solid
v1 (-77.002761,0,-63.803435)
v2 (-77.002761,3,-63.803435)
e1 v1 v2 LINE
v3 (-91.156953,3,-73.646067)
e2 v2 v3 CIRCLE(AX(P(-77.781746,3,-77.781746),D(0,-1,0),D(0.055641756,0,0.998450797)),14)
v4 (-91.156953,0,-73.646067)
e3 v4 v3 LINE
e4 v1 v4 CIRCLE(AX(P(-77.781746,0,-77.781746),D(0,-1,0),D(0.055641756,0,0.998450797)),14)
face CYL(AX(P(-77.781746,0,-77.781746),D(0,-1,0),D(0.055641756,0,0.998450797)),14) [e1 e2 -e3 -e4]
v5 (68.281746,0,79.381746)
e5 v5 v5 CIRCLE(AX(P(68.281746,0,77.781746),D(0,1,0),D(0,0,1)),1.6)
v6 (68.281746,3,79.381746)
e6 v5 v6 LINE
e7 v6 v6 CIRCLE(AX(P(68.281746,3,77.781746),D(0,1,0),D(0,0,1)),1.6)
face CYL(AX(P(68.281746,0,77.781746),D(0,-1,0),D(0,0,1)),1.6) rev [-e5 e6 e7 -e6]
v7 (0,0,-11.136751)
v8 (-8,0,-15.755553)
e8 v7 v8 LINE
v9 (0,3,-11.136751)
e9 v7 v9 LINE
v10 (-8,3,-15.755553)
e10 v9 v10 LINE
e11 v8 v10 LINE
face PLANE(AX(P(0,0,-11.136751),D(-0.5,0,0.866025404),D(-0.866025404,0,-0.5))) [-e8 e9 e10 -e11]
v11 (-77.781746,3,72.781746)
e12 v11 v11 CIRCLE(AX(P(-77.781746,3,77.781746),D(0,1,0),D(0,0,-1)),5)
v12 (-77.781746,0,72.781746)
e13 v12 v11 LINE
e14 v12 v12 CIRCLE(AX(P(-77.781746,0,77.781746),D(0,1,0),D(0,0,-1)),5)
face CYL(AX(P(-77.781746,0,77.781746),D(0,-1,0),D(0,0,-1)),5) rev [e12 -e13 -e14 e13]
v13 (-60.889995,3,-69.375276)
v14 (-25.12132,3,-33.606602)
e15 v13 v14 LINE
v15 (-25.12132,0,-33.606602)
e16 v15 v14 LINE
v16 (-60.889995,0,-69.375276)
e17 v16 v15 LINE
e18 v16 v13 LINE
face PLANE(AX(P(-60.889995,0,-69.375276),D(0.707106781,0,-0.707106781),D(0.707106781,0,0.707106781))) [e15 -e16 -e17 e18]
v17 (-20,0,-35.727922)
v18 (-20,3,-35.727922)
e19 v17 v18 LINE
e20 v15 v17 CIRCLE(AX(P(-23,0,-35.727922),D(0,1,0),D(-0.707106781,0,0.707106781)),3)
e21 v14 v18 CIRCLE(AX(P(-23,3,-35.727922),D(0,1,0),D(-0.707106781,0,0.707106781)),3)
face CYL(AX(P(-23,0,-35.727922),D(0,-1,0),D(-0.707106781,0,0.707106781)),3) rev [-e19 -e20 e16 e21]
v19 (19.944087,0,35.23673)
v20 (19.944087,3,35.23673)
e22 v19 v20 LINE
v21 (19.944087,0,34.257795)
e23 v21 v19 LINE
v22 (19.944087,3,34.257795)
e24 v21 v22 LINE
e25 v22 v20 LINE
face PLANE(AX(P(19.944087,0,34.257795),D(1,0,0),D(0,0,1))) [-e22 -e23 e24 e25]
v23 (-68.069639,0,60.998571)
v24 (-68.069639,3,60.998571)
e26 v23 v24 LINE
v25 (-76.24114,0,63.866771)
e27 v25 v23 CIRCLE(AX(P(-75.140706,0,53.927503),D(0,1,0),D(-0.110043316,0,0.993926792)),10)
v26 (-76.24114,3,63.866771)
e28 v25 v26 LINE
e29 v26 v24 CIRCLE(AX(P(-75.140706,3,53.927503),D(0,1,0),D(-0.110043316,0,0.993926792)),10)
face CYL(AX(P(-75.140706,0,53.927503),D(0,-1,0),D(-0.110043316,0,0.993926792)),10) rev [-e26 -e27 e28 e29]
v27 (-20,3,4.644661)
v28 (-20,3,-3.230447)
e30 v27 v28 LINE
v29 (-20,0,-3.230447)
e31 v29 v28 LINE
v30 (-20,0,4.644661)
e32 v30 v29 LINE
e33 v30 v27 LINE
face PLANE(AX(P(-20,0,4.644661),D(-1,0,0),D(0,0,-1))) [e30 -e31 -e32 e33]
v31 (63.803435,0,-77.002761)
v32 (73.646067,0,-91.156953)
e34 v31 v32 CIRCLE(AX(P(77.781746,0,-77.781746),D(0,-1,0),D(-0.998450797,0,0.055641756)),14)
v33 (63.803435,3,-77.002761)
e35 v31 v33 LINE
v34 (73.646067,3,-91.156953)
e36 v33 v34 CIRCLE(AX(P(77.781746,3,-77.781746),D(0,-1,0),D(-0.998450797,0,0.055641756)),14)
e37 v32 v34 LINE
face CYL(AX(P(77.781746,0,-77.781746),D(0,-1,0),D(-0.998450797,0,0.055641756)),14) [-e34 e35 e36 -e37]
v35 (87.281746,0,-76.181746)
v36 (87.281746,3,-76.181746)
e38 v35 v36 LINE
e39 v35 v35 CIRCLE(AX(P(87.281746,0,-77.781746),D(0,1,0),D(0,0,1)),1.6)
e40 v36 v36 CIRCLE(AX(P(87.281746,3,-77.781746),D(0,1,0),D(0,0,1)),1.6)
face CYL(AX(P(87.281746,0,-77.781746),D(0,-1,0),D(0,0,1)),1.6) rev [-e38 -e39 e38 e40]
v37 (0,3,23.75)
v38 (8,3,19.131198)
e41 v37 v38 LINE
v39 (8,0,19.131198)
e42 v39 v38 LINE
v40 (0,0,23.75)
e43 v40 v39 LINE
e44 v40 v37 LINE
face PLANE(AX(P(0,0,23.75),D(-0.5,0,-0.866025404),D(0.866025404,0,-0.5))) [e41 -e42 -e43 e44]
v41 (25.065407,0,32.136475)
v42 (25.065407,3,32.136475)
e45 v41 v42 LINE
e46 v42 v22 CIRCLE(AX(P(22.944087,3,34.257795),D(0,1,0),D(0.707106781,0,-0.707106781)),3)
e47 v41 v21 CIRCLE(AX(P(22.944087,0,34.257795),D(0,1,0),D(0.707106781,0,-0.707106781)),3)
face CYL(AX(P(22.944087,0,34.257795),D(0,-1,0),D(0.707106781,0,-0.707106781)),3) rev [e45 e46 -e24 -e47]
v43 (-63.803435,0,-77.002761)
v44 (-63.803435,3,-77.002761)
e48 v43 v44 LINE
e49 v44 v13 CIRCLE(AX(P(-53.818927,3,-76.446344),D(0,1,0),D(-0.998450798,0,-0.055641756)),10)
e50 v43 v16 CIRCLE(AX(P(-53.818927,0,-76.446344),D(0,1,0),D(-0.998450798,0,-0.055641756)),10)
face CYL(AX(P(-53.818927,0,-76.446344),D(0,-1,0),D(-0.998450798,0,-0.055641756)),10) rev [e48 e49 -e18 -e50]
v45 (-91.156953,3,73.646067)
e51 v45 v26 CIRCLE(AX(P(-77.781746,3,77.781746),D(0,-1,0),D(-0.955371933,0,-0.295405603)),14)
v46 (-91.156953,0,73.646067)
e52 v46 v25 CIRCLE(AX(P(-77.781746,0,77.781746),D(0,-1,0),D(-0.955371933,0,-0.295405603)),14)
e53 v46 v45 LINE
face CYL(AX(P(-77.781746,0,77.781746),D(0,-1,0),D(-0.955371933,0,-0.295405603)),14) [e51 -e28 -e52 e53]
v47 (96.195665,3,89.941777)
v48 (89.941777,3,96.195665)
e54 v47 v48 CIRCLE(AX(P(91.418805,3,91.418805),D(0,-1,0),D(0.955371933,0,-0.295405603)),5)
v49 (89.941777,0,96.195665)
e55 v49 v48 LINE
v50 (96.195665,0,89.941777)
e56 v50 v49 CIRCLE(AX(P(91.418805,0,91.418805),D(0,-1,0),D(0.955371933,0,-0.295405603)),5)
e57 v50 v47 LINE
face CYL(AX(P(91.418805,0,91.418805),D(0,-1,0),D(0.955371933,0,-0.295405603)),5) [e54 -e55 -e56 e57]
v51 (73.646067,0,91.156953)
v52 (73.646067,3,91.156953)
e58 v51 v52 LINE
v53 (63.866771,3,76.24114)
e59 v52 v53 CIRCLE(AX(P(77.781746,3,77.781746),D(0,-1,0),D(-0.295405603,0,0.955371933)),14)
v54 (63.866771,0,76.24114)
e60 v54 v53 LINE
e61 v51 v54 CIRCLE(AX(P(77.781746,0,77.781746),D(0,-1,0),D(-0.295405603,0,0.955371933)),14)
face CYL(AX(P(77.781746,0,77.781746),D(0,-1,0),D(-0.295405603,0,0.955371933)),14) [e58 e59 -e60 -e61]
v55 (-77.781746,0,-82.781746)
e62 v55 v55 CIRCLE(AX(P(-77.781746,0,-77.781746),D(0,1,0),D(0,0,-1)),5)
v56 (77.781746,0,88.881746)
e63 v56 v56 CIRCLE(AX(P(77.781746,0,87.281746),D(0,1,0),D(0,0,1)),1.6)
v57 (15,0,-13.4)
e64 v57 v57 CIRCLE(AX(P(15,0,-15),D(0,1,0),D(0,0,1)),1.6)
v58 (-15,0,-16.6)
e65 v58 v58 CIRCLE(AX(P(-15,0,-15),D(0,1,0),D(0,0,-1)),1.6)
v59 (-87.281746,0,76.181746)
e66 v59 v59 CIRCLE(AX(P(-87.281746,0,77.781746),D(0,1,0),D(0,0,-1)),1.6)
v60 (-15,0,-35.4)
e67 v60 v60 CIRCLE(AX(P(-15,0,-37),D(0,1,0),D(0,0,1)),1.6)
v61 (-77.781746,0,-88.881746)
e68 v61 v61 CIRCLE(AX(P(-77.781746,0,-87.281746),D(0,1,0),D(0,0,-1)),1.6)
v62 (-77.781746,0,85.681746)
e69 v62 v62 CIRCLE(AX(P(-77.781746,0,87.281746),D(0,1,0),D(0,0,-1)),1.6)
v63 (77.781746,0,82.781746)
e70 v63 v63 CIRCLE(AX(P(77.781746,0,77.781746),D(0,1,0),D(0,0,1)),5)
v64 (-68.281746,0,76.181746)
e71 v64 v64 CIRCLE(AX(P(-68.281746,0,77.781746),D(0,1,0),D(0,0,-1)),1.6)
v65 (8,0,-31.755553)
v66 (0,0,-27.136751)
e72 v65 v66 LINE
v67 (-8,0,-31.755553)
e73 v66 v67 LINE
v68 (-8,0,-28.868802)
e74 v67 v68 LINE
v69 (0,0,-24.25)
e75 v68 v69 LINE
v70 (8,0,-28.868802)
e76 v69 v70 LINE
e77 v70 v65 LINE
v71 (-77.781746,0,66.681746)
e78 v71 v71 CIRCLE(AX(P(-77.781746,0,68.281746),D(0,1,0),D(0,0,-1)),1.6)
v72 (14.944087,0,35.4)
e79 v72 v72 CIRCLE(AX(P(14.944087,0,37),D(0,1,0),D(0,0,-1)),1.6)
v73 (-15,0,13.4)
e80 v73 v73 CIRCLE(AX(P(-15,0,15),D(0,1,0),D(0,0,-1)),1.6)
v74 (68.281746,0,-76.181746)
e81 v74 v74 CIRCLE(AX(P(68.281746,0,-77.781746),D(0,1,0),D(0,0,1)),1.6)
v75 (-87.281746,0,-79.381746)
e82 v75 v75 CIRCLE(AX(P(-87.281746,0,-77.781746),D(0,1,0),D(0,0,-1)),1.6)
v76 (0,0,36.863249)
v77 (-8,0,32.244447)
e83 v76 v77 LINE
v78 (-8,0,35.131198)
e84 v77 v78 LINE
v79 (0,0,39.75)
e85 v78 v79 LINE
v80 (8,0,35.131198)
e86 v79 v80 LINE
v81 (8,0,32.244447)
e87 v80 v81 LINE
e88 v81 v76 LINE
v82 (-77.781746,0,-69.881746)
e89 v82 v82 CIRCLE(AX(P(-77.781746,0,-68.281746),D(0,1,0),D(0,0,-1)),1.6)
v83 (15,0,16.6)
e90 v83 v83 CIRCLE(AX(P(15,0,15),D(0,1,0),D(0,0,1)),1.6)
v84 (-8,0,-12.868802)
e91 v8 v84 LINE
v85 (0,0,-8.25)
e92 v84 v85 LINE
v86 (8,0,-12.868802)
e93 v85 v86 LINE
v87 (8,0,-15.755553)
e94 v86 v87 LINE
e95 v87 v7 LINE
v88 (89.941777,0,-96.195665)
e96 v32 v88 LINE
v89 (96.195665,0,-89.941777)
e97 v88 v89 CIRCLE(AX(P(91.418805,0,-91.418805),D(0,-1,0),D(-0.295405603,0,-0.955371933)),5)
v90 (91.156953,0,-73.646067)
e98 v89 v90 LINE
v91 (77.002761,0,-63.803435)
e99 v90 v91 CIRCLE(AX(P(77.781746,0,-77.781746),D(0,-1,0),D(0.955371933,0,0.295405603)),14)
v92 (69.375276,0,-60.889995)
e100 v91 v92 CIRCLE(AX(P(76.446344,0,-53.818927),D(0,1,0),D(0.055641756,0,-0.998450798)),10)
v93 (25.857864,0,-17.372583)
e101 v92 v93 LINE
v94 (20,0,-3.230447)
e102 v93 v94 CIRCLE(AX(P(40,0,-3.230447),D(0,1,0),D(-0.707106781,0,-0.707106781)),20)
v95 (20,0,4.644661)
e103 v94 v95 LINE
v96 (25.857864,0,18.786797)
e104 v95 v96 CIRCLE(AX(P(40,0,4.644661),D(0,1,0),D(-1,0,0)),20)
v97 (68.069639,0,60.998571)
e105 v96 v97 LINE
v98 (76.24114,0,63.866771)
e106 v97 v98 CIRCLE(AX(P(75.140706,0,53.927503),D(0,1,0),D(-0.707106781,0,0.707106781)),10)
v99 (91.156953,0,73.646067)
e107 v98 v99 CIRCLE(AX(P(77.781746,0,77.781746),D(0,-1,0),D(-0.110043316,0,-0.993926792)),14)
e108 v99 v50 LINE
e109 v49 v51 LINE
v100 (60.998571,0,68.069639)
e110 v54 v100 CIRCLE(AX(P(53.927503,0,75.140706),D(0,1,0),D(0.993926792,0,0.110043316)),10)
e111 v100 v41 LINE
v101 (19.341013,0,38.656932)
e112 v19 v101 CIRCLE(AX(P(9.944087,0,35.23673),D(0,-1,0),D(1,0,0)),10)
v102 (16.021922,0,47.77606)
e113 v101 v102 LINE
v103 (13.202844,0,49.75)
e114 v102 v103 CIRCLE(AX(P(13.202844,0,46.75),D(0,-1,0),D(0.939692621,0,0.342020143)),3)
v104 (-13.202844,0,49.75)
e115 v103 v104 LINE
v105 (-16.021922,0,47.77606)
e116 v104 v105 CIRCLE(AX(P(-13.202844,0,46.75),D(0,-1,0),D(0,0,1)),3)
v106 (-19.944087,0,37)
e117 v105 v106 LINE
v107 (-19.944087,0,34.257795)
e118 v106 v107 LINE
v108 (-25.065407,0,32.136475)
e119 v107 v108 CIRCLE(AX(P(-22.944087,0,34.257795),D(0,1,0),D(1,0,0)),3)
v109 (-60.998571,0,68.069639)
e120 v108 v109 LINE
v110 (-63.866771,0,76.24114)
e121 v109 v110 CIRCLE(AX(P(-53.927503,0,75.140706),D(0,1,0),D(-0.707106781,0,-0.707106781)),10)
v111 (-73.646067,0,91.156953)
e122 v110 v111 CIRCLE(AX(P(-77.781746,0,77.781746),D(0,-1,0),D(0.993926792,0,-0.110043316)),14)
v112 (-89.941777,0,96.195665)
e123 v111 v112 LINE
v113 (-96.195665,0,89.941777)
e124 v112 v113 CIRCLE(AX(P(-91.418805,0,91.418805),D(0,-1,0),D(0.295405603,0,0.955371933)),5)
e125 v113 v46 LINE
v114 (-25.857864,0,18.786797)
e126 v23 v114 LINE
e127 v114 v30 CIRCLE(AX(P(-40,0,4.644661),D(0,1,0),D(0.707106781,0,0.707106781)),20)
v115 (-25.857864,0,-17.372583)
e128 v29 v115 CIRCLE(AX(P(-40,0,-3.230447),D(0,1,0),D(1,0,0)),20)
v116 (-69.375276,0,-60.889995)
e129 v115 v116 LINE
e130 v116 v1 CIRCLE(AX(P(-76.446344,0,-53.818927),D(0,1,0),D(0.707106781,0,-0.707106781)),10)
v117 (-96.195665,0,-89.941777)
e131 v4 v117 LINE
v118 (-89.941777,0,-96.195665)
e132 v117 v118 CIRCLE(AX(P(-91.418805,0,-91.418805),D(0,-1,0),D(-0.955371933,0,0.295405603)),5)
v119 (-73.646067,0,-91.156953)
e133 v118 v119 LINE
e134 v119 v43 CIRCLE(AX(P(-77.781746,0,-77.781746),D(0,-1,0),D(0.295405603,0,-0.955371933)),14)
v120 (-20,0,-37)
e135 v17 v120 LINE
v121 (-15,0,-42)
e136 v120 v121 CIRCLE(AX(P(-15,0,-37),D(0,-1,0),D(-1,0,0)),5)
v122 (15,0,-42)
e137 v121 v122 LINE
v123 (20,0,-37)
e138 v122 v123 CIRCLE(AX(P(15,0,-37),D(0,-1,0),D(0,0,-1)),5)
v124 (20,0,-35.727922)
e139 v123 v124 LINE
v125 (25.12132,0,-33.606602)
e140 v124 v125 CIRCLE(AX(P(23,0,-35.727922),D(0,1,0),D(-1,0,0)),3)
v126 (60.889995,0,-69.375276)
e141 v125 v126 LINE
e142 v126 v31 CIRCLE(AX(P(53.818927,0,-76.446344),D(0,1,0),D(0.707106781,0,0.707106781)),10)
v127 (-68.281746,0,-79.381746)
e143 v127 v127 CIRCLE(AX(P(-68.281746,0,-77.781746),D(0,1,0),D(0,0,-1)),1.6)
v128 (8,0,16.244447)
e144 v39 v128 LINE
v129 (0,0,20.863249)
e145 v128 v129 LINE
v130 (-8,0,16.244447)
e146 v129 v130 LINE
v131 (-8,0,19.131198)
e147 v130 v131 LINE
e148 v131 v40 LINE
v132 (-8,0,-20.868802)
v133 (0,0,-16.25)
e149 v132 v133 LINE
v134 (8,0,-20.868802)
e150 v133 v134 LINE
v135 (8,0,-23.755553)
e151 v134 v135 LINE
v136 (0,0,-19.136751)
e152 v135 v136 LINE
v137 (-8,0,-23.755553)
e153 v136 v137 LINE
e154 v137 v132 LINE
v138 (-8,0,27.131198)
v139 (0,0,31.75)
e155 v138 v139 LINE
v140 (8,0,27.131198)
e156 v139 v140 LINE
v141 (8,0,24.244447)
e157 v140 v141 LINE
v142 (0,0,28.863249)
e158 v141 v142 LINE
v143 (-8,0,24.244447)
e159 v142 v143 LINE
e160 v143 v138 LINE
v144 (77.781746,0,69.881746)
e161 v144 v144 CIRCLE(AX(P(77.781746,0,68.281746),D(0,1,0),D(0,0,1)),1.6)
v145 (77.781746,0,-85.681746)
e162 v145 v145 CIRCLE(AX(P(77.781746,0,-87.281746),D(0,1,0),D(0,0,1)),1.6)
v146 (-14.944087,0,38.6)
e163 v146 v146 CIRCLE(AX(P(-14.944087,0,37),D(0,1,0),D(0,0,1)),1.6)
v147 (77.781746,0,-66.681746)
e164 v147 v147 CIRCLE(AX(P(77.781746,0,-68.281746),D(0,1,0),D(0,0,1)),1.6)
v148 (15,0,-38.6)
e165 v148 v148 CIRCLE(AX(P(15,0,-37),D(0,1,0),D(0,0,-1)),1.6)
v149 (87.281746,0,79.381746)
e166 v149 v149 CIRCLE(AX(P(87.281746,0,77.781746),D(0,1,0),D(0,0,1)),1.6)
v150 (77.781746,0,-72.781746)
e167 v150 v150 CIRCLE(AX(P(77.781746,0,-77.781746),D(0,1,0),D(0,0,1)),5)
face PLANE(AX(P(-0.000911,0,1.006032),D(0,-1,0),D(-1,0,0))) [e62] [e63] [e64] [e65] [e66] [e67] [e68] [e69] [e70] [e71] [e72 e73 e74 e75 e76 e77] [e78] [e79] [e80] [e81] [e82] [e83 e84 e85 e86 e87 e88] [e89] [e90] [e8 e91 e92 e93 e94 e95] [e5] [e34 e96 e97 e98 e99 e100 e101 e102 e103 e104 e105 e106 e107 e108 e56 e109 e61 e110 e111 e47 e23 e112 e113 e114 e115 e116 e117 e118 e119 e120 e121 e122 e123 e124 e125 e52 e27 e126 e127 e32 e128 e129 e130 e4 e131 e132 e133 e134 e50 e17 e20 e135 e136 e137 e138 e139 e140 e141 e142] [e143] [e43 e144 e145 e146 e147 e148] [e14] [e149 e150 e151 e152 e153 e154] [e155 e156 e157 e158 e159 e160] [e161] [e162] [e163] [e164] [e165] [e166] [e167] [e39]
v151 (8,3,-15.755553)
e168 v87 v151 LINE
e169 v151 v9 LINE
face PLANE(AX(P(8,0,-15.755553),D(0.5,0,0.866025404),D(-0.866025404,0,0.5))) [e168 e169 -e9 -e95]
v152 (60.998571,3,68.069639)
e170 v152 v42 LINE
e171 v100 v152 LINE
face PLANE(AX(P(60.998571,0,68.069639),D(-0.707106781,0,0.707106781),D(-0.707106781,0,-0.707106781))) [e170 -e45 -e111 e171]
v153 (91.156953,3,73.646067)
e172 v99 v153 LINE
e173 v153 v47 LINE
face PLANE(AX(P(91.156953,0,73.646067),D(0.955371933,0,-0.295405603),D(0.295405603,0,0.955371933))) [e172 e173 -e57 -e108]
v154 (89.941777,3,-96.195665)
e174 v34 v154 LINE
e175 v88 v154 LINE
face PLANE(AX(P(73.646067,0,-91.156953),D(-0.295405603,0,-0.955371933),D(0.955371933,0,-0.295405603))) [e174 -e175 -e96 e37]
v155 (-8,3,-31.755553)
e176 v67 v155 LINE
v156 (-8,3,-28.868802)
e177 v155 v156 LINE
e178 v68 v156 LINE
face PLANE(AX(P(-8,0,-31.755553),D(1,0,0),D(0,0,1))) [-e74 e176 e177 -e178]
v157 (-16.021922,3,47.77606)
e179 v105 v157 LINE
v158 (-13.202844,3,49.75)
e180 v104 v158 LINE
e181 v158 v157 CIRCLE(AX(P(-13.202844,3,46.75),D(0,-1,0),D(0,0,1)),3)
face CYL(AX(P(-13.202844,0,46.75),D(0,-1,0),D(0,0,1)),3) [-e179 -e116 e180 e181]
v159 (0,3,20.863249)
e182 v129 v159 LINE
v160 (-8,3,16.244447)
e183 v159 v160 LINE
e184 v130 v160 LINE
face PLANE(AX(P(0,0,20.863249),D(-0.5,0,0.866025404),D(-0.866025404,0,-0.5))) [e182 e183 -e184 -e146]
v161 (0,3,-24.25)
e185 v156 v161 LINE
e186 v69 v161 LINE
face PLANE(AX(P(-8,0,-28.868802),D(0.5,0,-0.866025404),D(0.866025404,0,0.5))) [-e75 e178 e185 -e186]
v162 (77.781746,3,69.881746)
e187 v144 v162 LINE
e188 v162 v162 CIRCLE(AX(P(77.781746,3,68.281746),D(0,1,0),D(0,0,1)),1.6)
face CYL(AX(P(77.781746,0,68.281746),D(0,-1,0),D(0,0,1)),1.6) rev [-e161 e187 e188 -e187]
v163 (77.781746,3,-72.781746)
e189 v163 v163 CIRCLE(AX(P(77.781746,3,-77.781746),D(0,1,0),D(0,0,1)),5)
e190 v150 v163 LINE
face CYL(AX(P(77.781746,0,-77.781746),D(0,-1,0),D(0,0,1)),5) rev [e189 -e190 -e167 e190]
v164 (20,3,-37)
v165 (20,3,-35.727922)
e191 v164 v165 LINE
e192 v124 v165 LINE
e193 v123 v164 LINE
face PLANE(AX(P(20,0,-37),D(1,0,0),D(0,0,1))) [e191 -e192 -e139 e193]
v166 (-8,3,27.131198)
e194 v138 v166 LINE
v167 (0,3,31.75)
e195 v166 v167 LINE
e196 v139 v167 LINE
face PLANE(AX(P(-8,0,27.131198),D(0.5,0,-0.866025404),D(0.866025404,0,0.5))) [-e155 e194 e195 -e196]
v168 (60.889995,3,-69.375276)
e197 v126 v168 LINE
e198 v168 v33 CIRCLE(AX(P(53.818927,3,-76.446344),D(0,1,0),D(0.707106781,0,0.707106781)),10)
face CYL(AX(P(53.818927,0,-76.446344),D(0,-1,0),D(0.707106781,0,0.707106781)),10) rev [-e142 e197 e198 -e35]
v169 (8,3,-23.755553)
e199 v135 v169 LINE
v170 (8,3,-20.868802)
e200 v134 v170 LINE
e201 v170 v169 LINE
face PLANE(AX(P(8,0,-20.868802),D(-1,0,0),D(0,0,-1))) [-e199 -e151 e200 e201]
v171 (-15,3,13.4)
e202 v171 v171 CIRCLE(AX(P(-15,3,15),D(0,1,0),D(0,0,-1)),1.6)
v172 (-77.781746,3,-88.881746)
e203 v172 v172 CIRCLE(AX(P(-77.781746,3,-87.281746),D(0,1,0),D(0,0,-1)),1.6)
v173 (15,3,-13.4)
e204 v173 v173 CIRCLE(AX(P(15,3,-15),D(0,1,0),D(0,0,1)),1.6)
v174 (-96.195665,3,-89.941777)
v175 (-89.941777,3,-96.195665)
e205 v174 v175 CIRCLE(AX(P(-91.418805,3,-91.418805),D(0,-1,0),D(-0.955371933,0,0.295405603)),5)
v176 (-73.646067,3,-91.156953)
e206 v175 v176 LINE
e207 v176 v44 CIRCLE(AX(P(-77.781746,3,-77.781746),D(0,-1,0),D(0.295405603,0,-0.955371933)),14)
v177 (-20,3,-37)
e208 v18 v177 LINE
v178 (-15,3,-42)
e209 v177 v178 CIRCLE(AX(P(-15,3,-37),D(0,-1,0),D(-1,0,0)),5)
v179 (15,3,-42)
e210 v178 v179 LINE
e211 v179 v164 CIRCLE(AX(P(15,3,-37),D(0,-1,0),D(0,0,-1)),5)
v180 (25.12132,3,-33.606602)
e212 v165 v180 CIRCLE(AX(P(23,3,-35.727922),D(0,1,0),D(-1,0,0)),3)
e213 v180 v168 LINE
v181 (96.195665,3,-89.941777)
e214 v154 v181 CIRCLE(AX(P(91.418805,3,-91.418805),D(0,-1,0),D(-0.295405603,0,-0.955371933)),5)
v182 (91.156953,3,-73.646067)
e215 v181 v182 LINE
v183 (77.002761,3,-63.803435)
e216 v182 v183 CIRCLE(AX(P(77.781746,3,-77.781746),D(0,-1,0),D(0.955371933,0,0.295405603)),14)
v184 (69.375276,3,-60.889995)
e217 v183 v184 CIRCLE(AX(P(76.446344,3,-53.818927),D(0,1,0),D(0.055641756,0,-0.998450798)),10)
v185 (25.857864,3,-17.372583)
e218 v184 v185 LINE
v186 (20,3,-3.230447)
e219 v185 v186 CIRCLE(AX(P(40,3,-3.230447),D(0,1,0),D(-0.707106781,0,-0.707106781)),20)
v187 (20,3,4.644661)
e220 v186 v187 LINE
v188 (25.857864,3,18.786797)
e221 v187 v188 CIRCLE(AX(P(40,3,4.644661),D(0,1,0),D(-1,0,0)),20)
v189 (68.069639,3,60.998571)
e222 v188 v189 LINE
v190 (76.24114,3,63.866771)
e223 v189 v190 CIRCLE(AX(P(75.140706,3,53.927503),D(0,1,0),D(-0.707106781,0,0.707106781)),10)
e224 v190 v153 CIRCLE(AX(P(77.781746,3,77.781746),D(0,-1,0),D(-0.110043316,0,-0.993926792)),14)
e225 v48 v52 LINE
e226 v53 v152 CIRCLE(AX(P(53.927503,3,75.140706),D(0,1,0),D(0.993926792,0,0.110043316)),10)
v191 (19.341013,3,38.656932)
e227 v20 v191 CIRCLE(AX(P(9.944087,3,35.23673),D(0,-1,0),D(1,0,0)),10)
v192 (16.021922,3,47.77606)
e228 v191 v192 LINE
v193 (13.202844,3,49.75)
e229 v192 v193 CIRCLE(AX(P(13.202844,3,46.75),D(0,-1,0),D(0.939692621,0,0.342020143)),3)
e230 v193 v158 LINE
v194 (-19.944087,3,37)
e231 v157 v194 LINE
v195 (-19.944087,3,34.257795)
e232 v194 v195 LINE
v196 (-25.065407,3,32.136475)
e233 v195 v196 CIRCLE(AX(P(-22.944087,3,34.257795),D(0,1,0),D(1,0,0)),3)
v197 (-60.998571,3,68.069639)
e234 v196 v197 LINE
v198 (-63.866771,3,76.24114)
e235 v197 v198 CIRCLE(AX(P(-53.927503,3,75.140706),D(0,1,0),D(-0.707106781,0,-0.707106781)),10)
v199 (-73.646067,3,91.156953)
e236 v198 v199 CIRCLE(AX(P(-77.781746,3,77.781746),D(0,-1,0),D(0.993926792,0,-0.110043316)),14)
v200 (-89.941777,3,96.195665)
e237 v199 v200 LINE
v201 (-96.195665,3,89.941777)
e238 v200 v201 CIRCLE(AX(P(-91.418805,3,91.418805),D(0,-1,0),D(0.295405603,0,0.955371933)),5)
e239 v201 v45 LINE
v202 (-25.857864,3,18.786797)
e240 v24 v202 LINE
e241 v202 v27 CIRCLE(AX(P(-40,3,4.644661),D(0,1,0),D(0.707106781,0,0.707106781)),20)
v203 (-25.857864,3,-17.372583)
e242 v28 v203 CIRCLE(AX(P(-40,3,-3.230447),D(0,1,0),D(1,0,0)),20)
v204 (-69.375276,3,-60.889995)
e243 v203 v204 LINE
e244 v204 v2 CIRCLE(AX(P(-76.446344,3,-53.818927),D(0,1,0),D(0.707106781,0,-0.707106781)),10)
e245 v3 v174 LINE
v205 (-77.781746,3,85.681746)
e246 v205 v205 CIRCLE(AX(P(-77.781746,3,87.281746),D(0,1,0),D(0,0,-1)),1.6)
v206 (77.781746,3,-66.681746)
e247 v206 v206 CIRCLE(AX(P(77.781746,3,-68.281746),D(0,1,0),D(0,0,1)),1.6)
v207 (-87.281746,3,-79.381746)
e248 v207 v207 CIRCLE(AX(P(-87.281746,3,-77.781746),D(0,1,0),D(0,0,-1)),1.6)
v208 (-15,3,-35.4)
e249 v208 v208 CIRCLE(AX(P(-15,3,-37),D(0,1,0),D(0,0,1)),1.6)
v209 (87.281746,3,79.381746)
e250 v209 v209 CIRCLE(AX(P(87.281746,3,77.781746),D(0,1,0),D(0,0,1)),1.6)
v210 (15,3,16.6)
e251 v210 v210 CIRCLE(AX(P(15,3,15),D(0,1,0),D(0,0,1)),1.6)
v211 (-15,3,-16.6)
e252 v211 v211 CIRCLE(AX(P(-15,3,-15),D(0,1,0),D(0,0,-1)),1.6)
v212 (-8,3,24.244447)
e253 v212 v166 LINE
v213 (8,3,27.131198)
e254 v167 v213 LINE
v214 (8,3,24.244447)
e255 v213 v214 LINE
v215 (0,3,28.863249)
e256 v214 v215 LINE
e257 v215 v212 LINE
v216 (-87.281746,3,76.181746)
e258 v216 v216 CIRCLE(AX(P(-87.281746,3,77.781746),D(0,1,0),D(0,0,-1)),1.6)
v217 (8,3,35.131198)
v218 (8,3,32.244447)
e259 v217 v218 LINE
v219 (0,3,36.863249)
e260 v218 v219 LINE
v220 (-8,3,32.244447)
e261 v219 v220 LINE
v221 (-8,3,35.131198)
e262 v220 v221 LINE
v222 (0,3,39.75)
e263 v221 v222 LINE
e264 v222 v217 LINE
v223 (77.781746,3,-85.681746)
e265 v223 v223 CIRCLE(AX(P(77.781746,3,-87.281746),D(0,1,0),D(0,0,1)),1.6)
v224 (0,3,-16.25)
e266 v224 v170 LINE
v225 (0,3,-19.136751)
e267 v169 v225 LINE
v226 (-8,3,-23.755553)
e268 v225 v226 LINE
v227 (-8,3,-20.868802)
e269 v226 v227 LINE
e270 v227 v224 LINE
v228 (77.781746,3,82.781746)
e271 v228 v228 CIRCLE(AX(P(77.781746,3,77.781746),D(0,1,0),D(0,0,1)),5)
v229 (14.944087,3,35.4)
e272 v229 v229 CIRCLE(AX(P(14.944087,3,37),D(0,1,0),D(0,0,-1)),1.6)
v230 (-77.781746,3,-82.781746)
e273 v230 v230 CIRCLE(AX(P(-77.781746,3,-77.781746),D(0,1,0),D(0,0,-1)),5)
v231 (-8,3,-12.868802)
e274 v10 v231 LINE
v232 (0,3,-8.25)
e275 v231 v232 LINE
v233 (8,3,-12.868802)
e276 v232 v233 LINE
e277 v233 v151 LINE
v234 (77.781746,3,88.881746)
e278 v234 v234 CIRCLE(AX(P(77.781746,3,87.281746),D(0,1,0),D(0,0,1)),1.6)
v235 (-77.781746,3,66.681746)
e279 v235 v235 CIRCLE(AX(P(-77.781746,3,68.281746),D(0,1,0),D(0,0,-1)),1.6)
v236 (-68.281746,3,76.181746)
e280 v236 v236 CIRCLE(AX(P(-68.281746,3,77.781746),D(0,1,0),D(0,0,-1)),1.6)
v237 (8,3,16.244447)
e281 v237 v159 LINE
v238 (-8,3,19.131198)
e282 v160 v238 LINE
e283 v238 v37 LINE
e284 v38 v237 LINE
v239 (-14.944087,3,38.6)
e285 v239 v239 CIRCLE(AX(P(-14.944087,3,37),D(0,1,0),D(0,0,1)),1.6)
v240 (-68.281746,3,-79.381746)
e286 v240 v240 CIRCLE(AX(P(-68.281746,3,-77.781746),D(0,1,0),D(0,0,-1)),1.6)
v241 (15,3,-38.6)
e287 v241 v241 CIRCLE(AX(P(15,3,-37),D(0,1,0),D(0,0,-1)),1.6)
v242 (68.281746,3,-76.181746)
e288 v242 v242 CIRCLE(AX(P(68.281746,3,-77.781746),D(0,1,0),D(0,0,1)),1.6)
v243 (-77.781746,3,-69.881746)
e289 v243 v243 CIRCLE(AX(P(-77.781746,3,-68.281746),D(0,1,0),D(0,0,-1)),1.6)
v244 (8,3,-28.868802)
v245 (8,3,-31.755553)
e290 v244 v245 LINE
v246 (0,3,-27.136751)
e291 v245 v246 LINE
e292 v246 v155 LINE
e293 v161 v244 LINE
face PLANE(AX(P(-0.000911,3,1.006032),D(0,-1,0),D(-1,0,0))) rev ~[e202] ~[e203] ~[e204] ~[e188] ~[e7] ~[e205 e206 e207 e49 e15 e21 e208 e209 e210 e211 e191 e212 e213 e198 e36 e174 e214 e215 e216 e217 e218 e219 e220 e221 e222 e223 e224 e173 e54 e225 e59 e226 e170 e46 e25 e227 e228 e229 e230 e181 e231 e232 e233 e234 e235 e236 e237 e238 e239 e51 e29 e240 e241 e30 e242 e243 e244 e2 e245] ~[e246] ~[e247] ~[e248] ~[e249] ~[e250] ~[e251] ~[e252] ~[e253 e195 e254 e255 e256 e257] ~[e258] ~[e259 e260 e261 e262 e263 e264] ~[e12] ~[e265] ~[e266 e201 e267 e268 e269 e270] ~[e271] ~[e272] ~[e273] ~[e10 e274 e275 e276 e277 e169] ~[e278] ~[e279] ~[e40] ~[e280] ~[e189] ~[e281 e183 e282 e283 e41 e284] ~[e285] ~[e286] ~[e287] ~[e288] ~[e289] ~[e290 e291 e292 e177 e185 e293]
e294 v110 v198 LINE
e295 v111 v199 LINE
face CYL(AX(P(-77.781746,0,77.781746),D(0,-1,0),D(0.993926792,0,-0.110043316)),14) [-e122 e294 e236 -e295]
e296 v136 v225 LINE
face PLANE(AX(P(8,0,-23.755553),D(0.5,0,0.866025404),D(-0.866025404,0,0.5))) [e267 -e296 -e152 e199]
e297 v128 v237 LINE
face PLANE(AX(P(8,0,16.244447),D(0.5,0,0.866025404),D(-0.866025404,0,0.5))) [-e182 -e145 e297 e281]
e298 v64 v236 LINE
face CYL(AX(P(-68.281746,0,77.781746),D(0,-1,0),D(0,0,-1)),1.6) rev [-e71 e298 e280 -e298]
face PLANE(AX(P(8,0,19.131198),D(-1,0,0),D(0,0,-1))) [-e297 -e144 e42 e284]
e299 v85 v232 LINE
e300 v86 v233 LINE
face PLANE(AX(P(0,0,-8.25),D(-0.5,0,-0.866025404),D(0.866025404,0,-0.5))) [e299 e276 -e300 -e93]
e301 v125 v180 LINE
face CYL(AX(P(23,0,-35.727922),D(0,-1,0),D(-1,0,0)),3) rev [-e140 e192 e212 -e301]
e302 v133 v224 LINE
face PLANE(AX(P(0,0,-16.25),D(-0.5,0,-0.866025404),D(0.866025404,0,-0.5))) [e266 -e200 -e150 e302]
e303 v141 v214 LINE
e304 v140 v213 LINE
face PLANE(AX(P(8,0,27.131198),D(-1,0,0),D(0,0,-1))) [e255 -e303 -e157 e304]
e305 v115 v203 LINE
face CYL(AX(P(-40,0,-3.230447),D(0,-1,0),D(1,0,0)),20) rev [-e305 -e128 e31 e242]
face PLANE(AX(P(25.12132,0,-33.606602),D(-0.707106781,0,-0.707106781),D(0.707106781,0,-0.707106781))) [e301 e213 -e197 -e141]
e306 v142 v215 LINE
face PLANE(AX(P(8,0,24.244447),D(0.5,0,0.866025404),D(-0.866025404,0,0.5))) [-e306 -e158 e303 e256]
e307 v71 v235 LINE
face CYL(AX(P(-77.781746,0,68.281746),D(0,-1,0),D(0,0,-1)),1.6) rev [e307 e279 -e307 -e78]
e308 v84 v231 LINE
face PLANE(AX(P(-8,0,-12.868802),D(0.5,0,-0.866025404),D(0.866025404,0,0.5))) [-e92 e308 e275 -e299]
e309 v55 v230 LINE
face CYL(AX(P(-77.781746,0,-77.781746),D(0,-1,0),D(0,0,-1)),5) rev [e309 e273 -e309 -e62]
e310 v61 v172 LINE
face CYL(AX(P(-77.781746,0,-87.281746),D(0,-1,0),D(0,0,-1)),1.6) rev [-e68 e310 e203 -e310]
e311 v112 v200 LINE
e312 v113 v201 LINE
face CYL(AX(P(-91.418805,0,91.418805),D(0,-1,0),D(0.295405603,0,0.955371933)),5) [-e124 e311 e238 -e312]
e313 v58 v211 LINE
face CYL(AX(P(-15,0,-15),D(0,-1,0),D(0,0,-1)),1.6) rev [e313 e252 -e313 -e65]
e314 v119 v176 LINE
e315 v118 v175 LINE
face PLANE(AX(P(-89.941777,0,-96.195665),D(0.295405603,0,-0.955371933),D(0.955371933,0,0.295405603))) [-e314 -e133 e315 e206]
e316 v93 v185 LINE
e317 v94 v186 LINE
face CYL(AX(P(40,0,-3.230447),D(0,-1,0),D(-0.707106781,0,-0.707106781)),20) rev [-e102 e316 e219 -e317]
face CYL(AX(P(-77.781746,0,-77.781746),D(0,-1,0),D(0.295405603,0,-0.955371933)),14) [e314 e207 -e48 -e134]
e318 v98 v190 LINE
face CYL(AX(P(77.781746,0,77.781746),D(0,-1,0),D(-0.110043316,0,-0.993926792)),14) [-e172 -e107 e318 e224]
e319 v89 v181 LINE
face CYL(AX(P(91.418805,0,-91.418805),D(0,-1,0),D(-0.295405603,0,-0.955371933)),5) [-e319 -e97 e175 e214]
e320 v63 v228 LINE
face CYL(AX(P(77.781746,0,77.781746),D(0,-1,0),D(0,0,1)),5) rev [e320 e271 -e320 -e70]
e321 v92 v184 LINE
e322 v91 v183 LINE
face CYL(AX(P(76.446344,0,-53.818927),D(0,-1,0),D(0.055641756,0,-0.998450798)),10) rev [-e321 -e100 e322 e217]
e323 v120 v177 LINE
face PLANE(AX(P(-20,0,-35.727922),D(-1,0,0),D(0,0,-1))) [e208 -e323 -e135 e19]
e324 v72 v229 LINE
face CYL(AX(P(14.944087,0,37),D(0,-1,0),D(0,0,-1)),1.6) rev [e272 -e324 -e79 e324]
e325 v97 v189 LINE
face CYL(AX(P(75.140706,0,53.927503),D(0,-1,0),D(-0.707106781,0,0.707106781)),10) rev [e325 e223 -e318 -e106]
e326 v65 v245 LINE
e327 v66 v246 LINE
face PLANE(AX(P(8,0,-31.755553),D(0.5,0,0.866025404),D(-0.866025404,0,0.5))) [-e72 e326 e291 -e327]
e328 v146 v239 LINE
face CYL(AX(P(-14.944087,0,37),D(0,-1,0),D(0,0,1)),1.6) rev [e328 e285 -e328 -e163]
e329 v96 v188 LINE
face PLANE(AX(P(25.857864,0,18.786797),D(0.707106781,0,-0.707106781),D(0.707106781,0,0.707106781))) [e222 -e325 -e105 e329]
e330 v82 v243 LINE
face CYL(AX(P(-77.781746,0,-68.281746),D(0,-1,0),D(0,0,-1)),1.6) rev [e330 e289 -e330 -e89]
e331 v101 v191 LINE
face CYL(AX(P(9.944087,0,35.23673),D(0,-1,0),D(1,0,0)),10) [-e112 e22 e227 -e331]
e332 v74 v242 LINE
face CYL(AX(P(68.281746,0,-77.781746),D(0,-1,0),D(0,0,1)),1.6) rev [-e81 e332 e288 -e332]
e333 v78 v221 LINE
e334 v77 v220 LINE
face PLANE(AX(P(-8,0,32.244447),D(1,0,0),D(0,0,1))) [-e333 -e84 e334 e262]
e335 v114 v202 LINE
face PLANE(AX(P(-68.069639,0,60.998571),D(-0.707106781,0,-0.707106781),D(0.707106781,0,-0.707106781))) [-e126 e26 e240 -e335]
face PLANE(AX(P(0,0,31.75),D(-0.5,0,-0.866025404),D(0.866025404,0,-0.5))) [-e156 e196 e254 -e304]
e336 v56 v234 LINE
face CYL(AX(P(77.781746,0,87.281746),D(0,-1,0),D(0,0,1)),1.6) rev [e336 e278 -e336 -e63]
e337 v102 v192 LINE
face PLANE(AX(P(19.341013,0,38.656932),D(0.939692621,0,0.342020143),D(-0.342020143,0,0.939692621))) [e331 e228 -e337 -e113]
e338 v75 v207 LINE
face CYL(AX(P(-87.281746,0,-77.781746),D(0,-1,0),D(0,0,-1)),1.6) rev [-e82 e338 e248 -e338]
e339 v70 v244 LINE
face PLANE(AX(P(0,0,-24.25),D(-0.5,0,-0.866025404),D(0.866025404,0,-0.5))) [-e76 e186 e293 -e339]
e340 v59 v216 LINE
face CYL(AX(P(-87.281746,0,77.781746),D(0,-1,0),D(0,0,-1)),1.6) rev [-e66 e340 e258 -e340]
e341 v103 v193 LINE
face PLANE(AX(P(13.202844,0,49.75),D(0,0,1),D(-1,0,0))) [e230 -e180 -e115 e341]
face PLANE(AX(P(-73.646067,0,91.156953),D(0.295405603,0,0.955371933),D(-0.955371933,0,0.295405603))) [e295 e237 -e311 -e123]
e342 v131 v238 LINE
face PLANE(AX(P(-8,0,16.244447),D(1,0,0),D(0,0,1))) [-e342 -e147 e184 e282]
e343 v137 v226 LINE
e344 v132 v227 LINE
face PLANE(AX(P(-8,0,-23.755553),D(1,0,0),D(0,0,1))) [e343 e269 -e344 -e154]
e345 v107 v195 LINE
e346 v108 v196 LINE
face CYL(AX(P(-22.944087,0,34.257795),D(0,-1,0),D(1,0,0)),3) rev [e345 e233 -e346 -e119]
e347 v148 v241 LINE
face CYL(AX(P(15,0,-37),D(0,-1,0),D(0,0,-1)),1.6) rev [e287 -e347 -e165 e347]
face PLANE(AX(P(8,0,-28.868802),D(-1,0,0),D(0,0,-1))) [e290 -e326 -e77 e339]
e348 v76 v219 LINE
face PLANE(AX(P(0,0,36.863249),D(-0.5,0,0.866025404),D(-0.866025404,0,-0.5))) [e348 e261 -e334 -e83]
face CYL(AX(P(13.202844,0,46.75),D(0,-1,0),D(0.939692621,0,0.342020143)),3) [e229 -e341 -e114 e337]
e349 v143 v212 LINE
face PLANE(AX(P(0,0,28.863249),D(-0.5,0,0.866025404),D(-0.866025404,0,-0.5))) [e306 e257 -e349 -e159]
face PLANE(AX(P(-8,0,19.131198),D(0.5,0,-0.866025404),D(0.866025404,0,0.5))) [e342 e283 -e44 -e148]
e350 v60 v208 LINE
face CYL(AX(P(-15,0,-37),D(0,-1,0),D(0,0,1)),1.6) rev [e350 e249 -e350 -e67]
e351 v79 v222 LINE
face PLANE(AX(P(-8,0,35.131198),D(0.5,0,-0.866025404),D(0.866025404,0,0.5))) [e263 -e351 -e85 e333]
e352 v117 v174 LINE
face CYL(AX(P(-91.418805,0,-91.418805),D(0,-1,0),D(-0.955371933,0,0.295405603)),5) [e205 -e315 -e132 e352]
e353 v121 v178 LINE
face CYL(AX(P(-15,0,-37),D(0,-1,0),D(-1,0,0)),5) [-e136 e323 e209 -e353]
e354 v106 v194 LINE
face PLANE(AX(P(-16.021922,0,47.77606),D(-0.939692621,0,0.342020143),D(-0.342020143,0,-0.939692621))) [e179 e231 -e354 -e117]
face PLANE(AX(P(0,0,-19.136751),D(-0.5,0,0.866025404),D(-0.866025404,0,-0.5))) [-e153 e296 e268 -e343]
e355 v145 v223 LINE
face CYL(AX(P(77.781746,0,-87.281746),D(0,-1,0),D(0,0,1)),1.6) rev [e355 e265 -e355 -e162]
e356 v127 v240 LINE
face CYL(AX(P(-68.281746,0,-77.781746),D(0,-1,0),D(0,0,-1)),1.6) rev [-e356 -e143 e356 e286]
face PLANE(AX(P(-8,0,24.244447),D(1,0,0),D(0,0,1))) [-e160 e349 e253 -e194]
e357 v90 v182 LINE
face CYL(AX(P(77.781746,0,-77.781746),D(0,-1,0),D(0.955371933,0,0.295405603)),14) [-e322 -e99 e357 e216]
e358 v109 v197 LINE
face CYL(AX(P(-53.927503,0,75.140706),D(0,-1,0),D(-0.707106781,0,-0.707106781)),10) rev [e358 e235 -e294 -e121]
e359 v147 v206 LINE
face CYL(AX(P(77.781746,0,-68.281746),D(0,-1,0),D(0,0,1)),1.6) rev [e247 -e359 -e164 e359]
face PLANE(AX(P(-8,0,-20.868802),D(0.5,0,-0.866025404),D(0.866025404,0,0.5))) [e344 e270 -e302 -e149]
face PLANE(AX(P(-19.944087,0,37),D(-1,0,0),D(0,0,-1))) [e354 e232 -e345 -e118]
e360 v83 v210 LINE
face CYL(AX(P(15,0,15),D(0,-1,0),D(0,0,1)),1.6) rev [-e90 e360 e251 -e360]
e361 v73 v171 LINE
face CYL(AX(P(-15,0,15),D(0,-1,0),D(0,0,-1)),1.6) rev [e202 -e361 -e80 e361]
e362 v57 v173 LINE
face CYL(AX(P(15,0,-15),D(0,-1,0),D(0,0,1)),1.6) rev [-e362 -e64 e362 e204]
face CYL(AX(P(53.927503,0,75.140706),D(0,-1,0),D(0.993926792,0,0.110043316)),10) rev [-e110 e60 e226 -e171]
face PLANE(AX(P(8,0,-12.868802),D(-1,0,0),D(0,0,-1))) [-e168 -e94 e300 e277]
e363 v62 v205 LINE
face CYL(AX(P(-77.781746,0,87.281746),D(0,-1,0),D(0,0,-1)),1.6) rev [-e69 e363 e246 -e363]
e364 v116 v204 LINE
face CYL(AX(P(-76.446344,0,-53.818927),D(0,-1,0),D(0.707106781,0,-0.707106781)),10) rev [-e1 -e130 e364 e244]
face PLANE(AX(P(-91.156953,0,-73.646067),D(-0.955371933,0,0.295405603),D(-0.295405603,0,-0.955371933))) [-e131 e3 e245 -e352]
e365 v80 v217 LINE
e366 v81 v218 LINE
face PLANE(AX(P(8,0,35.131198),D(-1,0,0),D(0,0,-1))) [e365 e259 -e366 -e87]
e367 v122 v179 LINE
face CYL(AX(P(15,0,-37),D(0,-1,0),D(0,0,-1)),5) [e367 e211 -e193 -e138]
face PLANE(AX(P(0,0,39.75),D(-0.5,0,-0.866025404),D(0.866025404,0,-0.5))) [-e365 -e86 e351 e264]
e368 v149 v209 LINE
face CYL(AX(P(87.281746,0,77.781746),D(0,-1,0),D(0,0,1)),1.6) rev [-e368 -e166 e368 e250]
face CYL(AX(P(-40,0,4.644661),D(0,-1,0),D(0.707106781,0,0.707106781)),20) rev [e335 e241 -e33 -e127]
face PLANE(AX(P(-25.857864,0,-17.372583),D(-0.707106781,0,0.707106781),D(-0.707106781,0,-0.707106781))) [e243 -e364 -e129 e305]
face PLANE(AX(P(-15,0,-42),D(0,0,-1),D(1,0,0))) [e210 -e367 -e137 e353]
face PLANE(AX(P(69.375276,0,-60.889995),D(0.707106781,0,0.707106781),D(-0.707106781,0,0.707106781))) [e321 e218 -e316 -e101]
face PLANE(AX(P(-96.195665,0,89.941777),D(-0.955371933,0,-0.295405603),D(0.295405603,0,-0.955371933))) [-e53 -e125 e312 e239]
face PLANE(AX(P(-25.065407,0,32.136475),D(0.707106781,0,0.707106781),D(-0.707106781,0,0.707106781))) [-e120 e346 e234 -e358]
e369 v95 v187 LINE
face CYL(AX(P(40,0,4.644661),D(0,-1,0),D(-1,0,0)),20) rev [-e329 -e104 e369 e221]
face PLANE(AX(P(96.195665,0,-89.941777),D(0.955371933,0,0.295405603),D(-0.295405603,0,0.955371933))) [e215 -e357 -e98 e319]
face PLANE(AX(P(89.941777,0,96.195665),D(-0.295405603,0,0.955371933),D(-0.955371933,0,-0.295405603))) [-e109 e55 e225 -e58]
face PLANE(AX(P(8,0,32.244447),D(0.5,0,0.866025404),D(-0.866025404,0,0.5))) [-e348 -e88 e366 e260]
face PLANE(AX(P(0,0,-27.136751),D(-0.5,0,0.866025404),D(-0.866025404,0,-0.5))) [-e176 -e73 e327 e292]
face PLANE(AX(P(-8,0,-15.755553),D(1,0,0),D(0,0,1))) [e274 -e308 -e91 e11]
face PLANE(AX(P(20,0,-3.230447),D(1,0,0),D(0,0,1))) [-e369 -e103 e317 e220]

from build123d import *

# Parameters (mm, degrees)
SKETCH1_R           = 1.6
SKETCH1_R_2         = 5
BOSS_EXTRUDE1_DEPTH = 3
CUT_EXTRUDE1_DEPTH  = 137.389779764


with BuildPart() as part:
    # Sketch1 → Boss-Extrude1 (new body)
    with BuildSketch(Plane(origin=(0, 0, 0), x_dir=(1, 0, 0), z_dir=(0, 1, 0))):
        with BuildLine():
            Line((19.341013177, -38.656931626), (16.02192173, -47.77606043))
            ThreePointArc((16.02192173, -47.77606043), (14.923573177, -49.207456133), (13.202843868, -49.75))
            Line((13.202843868, -49.75), (-13.202843868, -49.75))
            ThreePointArc((-13.202843868, -49.75), (-14.923573177, -49.207456133), (-16.02192173, -47.77606043))
            Line((-16.02192173, -47.77606043), (-19.944086969, -37))
            Line((-19.944086969, -37), (-19.944086969, -34.257795468))
            ThreePointArc((-19.944086969, -34.257795468), (-21.796036672, -31.486156871), (-25.065407313, -32.136475125))
            Line((-25.065407313, -32.136475125), (-60.998570725, -68.069638537))
            ThreePointArc((-60.998570725, -68.069638537), (-63.363139484, -71.828794135), (-63.866770837, -76.241139508))
            ThreePointArc((-63.866770837, -76.241139508), (-66.073761636, -85.457884527), (-73.646067483, -91.156952986))
            Line((-73.646067483, -91.156952986), (-89.941777265, -96.195664945))
            ThreePointArc((-89.941777265, -96.195664945), (-94.954339188, -94.954339188), (-96.195664945, -89.941777265))
            Line((-96.195664945, -89.941777265), (-91.156952986, -73.646067483))
            ThreePointArc((-91.156952986, -73.646067483), (-85.457884527, -66.073761636), (-76.241139508, -63.866770837))
            ThreePointArc((-76.241139508, -63.866770837), (-71.828794135, -63.363139484), (-68.069638537, -60.998570725))
            Line((-68.069638537, -60.998570725), (-25.857864376, -18.786796564))
            ThreePointArc((-25.857864376, -18.786796564), (-21.52240935, -12.298329588), (-20, -4.644660941))
            Line((-20, -4.644660941), (-20, 3.230447378))
            ThreePointArc((-20, 3.230447378), (-21.52240935, 10.884116026), (-25.857864376, 17.372583002))
            Line((-25.857864376, 17.372583002), (-69.375275977, 60.889994603))
            ThreePointArc((-69.375275977, 60.889994603), (-72.878122891, 63.16065038), (-77.002761348, 63.803434766))
            ThreePointArc((-77.002761348, 63.803434766), (-85.774590221, 66.287641348), (-91.156952986, 73.646067483))
            Line((-91.156952986, 73.646067483), (-96.195664945, 89.941777265))
            ThreePointArc((-96.195664945, 89.941777265), (-94.954339188, 94.954339188), (-89.941777265, 96.195664945))
            Line((-89.941777265, 96.195664945), (-73.646067483, 91.156952986))
            ThreePointArc((-73.646067483, 91.156952986), (-66.287641348, 85.774590221), (-63.803434766, 77.002761348))
            ThreePointArc((-63.803434766, 77.002761348), (-63.16065038, 72.878122891), (-60.889994603, 69.375275977))
            Line((-60.889994603, 69.375275977), (-25.121320344, 33.606601718))
            ThreePointArc((-25.121320344, 33.606601718), (-21.851949703, 32.956283464), (-20, 35.727922061))
            Line((-20, 35.727922061), (-20, 37))
            ThreePointArc((-20, 37), (-18.535533906, 40.535533906), (-15, 42))
            Line((-15, 42), (15, 42))
            ThreePointArc((15, 42), (18.535533906, 40.535533906), (20, 37))
            Line((20, 37), (20, 35.727922061))
            ThreePointArc((20, 35.727922061), (21.851949703, 32.956283464), (25.121320344, 33.606601718))
            Line((25.121320344, 33.606601718), (60.889994603, 69.375275977))
            ThreePointArc((60.889994603, 69.375275977), (63.16065038, 72.878122891), (63.803434766, 77.002761348))
            ThreePointArc((63.803434766, 77.002761348), (66.287641348, 85.774590221), (73.646067483, 91.156952986))
            Line((73.646067483, 91.156952986), (89.941777265, 96.195664945))
            ThreePointArc((89.941777265, 96.195664945), (94.954339188, 94.954339188), (96.195664945, 89.941777265))
            Line((96.195664945, 89.941777265), (91.156952986, 73.646067483))
            ThreePointArc((91.156952986, 73.646067483), (85.774590221, 66.287641348), (77.002761348, 63.803434766))
            ThreePointArc((77.002761348, 63.803434766), (72.878122891, 63.16065038), (69.375275977, 60.889994603))
            Line((69.375275977, 60.889994603), (25.857864376, 17.372583002))
            ThreePointArc((25.857864376, 17.372583002), (21.52240935, 10.884116026), (20, 3.230447378))
            Line((20, 3.230447378), (20, -4.644660941))
            ThreePointArc((20, -4.644660941), (21.52240935, -12.298329588), (25.857864376, -18.786796564))
            Line((25.857864376, -18.786796564), (68.069638537, -60.998570725))
            ThreePointArc((68.069638537, -60.998570725), (71.828794135, -63.363139484), (76.241139508, -63.866770837))
            ThreePointArc((76.241139508, -63.866770837), (85.457884527, -66.073761636), (91.156952986, -73.646067483))
            Line((91.156952986, -73.646067483), (96.195664945, -89.941777265))
            ThreePointArc((96.195664945, -89.941777265), (94.954339188, -94.954339188), (89.941777265, -96.195664945))
            Line((89.941777265, -96.195664945), (73.646067483, -91.156952986))
            ThreePointArc((73.646067483, -91.156952986), (66.073761636, -85.457884527), (63.866770837, -76.241139508))
            ThreePointArc((63.866770837, -76.241139508), (63.363139484, -71.828794135), (60.998570725, -68.069638537))
            Line((60.998570725, -68.069638537), (25.065407313, -32.136475125))
            ThreePointArc((25.065407313, -32.136475125), (21.796036672, -31.486156871), (19.944086969, -34.257795468))
            Line((19.944086969, -34.257795468), (19.944086969, -35.236730193))
            ThreePointArc((19.944086969, -35.236730193), (19.792164499, -36.97321197), (19.341013177, -38.656931626))
        make_face()
        with Locations(Location((77.781745931, 68.281745931, 0), (0, 0, 270))):
            Circle(SKETCH1_R, mode=Mode.SUBTRACT)
        with Locations(Location((68.281745931, 77.781745931, 0), (0, 0, 270))):
            Circle(SKETCH1_R, mode=Mode.SUBTRACT)
        with Locations(Location((77.781745931, 87.281745931, 0), (0, 0, 270))):
            Circle(SKETCH1_R, mode=Mode.SUBTRACT)
        with Locations(Location((87.281745931, 77.781745931, 0), (0, 0, 270))):
            Circle(SKETCH1_R, mode=Mode.SUBTRACT)
        with Locations(Location((77.781745931, -87.281745931, 0), (0, 0, 270))):
            Circle(SKETCH1_R, mode=Mode.SUBTRACT)
        with Locations(Location((68.281745931, -77.781745931, 0), (0, 0, 270))):
            Circle(SKETCH1_R, mode=Mode.SUBTRACT)
        with Locations(Location((77.781745931, -68.281745931, 0), (0, 0, 270))):
            Circle(SKETCH1_R, mode=Mode.SUBTRACT)
        with Locations(Location((87.281745931, -77.781745931, 0), (0, 0, 270))):
            Circle(SKETCH1_R, mode=Mode.SUBTRACT)
        with Locations(Location((15, 15, 0), (0, 0, 270))):
            Circle(SKETCH1_R, mode=Mode.SUBTRACT)
        with Locations(Location((15, -15, 0), (0, 0, 270))):
            Circle(SKETCH1_R, mode=Mode.SUBTRACT)
        with Locations(Location((77.781745931, 77.781745931, 0), (0, 0, 270))):
            Circle(SKETCH1_R_2, mode=Mode.SUBTRACT)
        with Locations(Location((77.781745931, -77.781745931, 0), (0, 0, 270))):
            Circle(SKETCH1_R_2, mode=Mode.SUBTRACT)
        with Locations(Location((14.944086969, -37, 0), (0, 0, 90))):
            Circle(SKETCH1_R, mode=Mode.SUBTRACT)
        with Locations(Location((15, 37, 0), (0, 0, 90))):
            Circle(SKETCH1_R, mode=Mode.SUBTRACT)
        with Locations(Location((-15, 37, 0), (0, 0, 270))):
            Circle(SKETCH1_R, mode=Mode.SUBTRACT)
        with Locations(Location((-14.944086969, -37, 0), (0, 0, 270))):
            Circle(SKETCH1_R, mode=Mode.SUBTRACT)
        with Locations(Location((-77.781745931, -77.781745931, 0), (0, 0, 90))):
            Circle(SKETCH1_R_2, mode=Mode.SUBTRACT)
        with Locations(Location((-77.781745931, 77.781745931, 0), (0, 0, 90))):
            Circle(SKETCH1_R_2, mode=Mode.SUBTRACT)
        with Locations(Location((-15, -15, 0), (0, 0, 90))):
            Circle(SKETCH1_R, mode=Mode.SUBTRACT)
        with Locations(Location((-15, 15, 0), (0, 0, 90))):
            Circle(SKETCH1_R, mode=Mode.SUBTRACT)
        with Locations(Location((-87.281745931, -77.781745931, 0), (0, 0, 90))):
            Circle(SKETCH1_R, mode=Mode.SUBTRACT)
        with Locations(Location((-77.781745931, -68.281745931, 0), (0, 0, 90))):
            Circle(SKETCH1_R, mode=Mode.SUBTRACT)
        with Locations(Location((-68.281745931, -77.781745931, 0), (0, 0, 90))):
            Circle(SKETCH1_R, mode=Mode.SUBTRACT)
        with Locations(Location((-77.781745931, -87.281745931, 0), (0, 0, 90))):
            Circle(SKETCH1_R, mode=Mode.SUBTRACT)
        with Locations(Location((-87.281745931, 77.781745931, 0), (0, 0, 90))):
            Circle(SKETCH1_R, mode=Mode.SUBTRACT)
        with Locations(Location((-77.781745931, 87.281745931, 0), (0, 0, 90))):
            Circle(SKETCH1_R, mode=Mode.SUBTRACT)
        with Locations(Location((-68.281745931, 77.781745931, 0), (0, 0, 90))):
            Circle(SKETCH1_R, mode=Mode.SUBTRACT)
        with Locations(Location((-77.781745931, 68.281745931, 0), (0, 0, 90))):
            Circle(SKETCH1_R, mode=Mode.SUBTRACT)
    extrude(amount=BOSS_EXTRUDE1_DEPTH)

    # Sketch2 → Cut-Extrude1 (cut, through all)
    with BuildSketch(Plane.XZ):
        Polygon((-8, 35.131197846), (0, 39.75), (8, 35.131197846), (8, 32.244446501), (0, 36.863248654), (-8, 32.244446501), align=None)
        Polygon((-8, 27.131197846), (0, 31.75), (8, 27.131197846), (8, 24.244446501), (0, 28.863248654), (-8, 24.244446501), align=None)
        Polygon((-8, 19.131197846), (0, 23.75), (8, 19.131197846), (8, 16.244446501), (0, 20.863248654), (-8, 16.244446501), align=None)
        Polygon((-8, -12.868802154), (0, -8.25), (8, -12.868802154), (8, -15.755553499), (0, -11.136751346), (-8, -15.755553499), align=None)
        Polygon((-8, -20.868802154), (0, -16.25), (8, -20.868802154), (8, -23.755553499), (0, -19.136751346), (-8, -23.755553499), align=None)
        Polygon((-8, -28.868802154), (0, -24.25), (8, -28.868802154), (8, -31.755553499), (0, -27.136751346), (-8, -31.755553499), align=None)
    extrude(amount=-CUT_EXTRUDE1_DEPTH, mode=Mode.SUBTRACT)


solid = part.part
